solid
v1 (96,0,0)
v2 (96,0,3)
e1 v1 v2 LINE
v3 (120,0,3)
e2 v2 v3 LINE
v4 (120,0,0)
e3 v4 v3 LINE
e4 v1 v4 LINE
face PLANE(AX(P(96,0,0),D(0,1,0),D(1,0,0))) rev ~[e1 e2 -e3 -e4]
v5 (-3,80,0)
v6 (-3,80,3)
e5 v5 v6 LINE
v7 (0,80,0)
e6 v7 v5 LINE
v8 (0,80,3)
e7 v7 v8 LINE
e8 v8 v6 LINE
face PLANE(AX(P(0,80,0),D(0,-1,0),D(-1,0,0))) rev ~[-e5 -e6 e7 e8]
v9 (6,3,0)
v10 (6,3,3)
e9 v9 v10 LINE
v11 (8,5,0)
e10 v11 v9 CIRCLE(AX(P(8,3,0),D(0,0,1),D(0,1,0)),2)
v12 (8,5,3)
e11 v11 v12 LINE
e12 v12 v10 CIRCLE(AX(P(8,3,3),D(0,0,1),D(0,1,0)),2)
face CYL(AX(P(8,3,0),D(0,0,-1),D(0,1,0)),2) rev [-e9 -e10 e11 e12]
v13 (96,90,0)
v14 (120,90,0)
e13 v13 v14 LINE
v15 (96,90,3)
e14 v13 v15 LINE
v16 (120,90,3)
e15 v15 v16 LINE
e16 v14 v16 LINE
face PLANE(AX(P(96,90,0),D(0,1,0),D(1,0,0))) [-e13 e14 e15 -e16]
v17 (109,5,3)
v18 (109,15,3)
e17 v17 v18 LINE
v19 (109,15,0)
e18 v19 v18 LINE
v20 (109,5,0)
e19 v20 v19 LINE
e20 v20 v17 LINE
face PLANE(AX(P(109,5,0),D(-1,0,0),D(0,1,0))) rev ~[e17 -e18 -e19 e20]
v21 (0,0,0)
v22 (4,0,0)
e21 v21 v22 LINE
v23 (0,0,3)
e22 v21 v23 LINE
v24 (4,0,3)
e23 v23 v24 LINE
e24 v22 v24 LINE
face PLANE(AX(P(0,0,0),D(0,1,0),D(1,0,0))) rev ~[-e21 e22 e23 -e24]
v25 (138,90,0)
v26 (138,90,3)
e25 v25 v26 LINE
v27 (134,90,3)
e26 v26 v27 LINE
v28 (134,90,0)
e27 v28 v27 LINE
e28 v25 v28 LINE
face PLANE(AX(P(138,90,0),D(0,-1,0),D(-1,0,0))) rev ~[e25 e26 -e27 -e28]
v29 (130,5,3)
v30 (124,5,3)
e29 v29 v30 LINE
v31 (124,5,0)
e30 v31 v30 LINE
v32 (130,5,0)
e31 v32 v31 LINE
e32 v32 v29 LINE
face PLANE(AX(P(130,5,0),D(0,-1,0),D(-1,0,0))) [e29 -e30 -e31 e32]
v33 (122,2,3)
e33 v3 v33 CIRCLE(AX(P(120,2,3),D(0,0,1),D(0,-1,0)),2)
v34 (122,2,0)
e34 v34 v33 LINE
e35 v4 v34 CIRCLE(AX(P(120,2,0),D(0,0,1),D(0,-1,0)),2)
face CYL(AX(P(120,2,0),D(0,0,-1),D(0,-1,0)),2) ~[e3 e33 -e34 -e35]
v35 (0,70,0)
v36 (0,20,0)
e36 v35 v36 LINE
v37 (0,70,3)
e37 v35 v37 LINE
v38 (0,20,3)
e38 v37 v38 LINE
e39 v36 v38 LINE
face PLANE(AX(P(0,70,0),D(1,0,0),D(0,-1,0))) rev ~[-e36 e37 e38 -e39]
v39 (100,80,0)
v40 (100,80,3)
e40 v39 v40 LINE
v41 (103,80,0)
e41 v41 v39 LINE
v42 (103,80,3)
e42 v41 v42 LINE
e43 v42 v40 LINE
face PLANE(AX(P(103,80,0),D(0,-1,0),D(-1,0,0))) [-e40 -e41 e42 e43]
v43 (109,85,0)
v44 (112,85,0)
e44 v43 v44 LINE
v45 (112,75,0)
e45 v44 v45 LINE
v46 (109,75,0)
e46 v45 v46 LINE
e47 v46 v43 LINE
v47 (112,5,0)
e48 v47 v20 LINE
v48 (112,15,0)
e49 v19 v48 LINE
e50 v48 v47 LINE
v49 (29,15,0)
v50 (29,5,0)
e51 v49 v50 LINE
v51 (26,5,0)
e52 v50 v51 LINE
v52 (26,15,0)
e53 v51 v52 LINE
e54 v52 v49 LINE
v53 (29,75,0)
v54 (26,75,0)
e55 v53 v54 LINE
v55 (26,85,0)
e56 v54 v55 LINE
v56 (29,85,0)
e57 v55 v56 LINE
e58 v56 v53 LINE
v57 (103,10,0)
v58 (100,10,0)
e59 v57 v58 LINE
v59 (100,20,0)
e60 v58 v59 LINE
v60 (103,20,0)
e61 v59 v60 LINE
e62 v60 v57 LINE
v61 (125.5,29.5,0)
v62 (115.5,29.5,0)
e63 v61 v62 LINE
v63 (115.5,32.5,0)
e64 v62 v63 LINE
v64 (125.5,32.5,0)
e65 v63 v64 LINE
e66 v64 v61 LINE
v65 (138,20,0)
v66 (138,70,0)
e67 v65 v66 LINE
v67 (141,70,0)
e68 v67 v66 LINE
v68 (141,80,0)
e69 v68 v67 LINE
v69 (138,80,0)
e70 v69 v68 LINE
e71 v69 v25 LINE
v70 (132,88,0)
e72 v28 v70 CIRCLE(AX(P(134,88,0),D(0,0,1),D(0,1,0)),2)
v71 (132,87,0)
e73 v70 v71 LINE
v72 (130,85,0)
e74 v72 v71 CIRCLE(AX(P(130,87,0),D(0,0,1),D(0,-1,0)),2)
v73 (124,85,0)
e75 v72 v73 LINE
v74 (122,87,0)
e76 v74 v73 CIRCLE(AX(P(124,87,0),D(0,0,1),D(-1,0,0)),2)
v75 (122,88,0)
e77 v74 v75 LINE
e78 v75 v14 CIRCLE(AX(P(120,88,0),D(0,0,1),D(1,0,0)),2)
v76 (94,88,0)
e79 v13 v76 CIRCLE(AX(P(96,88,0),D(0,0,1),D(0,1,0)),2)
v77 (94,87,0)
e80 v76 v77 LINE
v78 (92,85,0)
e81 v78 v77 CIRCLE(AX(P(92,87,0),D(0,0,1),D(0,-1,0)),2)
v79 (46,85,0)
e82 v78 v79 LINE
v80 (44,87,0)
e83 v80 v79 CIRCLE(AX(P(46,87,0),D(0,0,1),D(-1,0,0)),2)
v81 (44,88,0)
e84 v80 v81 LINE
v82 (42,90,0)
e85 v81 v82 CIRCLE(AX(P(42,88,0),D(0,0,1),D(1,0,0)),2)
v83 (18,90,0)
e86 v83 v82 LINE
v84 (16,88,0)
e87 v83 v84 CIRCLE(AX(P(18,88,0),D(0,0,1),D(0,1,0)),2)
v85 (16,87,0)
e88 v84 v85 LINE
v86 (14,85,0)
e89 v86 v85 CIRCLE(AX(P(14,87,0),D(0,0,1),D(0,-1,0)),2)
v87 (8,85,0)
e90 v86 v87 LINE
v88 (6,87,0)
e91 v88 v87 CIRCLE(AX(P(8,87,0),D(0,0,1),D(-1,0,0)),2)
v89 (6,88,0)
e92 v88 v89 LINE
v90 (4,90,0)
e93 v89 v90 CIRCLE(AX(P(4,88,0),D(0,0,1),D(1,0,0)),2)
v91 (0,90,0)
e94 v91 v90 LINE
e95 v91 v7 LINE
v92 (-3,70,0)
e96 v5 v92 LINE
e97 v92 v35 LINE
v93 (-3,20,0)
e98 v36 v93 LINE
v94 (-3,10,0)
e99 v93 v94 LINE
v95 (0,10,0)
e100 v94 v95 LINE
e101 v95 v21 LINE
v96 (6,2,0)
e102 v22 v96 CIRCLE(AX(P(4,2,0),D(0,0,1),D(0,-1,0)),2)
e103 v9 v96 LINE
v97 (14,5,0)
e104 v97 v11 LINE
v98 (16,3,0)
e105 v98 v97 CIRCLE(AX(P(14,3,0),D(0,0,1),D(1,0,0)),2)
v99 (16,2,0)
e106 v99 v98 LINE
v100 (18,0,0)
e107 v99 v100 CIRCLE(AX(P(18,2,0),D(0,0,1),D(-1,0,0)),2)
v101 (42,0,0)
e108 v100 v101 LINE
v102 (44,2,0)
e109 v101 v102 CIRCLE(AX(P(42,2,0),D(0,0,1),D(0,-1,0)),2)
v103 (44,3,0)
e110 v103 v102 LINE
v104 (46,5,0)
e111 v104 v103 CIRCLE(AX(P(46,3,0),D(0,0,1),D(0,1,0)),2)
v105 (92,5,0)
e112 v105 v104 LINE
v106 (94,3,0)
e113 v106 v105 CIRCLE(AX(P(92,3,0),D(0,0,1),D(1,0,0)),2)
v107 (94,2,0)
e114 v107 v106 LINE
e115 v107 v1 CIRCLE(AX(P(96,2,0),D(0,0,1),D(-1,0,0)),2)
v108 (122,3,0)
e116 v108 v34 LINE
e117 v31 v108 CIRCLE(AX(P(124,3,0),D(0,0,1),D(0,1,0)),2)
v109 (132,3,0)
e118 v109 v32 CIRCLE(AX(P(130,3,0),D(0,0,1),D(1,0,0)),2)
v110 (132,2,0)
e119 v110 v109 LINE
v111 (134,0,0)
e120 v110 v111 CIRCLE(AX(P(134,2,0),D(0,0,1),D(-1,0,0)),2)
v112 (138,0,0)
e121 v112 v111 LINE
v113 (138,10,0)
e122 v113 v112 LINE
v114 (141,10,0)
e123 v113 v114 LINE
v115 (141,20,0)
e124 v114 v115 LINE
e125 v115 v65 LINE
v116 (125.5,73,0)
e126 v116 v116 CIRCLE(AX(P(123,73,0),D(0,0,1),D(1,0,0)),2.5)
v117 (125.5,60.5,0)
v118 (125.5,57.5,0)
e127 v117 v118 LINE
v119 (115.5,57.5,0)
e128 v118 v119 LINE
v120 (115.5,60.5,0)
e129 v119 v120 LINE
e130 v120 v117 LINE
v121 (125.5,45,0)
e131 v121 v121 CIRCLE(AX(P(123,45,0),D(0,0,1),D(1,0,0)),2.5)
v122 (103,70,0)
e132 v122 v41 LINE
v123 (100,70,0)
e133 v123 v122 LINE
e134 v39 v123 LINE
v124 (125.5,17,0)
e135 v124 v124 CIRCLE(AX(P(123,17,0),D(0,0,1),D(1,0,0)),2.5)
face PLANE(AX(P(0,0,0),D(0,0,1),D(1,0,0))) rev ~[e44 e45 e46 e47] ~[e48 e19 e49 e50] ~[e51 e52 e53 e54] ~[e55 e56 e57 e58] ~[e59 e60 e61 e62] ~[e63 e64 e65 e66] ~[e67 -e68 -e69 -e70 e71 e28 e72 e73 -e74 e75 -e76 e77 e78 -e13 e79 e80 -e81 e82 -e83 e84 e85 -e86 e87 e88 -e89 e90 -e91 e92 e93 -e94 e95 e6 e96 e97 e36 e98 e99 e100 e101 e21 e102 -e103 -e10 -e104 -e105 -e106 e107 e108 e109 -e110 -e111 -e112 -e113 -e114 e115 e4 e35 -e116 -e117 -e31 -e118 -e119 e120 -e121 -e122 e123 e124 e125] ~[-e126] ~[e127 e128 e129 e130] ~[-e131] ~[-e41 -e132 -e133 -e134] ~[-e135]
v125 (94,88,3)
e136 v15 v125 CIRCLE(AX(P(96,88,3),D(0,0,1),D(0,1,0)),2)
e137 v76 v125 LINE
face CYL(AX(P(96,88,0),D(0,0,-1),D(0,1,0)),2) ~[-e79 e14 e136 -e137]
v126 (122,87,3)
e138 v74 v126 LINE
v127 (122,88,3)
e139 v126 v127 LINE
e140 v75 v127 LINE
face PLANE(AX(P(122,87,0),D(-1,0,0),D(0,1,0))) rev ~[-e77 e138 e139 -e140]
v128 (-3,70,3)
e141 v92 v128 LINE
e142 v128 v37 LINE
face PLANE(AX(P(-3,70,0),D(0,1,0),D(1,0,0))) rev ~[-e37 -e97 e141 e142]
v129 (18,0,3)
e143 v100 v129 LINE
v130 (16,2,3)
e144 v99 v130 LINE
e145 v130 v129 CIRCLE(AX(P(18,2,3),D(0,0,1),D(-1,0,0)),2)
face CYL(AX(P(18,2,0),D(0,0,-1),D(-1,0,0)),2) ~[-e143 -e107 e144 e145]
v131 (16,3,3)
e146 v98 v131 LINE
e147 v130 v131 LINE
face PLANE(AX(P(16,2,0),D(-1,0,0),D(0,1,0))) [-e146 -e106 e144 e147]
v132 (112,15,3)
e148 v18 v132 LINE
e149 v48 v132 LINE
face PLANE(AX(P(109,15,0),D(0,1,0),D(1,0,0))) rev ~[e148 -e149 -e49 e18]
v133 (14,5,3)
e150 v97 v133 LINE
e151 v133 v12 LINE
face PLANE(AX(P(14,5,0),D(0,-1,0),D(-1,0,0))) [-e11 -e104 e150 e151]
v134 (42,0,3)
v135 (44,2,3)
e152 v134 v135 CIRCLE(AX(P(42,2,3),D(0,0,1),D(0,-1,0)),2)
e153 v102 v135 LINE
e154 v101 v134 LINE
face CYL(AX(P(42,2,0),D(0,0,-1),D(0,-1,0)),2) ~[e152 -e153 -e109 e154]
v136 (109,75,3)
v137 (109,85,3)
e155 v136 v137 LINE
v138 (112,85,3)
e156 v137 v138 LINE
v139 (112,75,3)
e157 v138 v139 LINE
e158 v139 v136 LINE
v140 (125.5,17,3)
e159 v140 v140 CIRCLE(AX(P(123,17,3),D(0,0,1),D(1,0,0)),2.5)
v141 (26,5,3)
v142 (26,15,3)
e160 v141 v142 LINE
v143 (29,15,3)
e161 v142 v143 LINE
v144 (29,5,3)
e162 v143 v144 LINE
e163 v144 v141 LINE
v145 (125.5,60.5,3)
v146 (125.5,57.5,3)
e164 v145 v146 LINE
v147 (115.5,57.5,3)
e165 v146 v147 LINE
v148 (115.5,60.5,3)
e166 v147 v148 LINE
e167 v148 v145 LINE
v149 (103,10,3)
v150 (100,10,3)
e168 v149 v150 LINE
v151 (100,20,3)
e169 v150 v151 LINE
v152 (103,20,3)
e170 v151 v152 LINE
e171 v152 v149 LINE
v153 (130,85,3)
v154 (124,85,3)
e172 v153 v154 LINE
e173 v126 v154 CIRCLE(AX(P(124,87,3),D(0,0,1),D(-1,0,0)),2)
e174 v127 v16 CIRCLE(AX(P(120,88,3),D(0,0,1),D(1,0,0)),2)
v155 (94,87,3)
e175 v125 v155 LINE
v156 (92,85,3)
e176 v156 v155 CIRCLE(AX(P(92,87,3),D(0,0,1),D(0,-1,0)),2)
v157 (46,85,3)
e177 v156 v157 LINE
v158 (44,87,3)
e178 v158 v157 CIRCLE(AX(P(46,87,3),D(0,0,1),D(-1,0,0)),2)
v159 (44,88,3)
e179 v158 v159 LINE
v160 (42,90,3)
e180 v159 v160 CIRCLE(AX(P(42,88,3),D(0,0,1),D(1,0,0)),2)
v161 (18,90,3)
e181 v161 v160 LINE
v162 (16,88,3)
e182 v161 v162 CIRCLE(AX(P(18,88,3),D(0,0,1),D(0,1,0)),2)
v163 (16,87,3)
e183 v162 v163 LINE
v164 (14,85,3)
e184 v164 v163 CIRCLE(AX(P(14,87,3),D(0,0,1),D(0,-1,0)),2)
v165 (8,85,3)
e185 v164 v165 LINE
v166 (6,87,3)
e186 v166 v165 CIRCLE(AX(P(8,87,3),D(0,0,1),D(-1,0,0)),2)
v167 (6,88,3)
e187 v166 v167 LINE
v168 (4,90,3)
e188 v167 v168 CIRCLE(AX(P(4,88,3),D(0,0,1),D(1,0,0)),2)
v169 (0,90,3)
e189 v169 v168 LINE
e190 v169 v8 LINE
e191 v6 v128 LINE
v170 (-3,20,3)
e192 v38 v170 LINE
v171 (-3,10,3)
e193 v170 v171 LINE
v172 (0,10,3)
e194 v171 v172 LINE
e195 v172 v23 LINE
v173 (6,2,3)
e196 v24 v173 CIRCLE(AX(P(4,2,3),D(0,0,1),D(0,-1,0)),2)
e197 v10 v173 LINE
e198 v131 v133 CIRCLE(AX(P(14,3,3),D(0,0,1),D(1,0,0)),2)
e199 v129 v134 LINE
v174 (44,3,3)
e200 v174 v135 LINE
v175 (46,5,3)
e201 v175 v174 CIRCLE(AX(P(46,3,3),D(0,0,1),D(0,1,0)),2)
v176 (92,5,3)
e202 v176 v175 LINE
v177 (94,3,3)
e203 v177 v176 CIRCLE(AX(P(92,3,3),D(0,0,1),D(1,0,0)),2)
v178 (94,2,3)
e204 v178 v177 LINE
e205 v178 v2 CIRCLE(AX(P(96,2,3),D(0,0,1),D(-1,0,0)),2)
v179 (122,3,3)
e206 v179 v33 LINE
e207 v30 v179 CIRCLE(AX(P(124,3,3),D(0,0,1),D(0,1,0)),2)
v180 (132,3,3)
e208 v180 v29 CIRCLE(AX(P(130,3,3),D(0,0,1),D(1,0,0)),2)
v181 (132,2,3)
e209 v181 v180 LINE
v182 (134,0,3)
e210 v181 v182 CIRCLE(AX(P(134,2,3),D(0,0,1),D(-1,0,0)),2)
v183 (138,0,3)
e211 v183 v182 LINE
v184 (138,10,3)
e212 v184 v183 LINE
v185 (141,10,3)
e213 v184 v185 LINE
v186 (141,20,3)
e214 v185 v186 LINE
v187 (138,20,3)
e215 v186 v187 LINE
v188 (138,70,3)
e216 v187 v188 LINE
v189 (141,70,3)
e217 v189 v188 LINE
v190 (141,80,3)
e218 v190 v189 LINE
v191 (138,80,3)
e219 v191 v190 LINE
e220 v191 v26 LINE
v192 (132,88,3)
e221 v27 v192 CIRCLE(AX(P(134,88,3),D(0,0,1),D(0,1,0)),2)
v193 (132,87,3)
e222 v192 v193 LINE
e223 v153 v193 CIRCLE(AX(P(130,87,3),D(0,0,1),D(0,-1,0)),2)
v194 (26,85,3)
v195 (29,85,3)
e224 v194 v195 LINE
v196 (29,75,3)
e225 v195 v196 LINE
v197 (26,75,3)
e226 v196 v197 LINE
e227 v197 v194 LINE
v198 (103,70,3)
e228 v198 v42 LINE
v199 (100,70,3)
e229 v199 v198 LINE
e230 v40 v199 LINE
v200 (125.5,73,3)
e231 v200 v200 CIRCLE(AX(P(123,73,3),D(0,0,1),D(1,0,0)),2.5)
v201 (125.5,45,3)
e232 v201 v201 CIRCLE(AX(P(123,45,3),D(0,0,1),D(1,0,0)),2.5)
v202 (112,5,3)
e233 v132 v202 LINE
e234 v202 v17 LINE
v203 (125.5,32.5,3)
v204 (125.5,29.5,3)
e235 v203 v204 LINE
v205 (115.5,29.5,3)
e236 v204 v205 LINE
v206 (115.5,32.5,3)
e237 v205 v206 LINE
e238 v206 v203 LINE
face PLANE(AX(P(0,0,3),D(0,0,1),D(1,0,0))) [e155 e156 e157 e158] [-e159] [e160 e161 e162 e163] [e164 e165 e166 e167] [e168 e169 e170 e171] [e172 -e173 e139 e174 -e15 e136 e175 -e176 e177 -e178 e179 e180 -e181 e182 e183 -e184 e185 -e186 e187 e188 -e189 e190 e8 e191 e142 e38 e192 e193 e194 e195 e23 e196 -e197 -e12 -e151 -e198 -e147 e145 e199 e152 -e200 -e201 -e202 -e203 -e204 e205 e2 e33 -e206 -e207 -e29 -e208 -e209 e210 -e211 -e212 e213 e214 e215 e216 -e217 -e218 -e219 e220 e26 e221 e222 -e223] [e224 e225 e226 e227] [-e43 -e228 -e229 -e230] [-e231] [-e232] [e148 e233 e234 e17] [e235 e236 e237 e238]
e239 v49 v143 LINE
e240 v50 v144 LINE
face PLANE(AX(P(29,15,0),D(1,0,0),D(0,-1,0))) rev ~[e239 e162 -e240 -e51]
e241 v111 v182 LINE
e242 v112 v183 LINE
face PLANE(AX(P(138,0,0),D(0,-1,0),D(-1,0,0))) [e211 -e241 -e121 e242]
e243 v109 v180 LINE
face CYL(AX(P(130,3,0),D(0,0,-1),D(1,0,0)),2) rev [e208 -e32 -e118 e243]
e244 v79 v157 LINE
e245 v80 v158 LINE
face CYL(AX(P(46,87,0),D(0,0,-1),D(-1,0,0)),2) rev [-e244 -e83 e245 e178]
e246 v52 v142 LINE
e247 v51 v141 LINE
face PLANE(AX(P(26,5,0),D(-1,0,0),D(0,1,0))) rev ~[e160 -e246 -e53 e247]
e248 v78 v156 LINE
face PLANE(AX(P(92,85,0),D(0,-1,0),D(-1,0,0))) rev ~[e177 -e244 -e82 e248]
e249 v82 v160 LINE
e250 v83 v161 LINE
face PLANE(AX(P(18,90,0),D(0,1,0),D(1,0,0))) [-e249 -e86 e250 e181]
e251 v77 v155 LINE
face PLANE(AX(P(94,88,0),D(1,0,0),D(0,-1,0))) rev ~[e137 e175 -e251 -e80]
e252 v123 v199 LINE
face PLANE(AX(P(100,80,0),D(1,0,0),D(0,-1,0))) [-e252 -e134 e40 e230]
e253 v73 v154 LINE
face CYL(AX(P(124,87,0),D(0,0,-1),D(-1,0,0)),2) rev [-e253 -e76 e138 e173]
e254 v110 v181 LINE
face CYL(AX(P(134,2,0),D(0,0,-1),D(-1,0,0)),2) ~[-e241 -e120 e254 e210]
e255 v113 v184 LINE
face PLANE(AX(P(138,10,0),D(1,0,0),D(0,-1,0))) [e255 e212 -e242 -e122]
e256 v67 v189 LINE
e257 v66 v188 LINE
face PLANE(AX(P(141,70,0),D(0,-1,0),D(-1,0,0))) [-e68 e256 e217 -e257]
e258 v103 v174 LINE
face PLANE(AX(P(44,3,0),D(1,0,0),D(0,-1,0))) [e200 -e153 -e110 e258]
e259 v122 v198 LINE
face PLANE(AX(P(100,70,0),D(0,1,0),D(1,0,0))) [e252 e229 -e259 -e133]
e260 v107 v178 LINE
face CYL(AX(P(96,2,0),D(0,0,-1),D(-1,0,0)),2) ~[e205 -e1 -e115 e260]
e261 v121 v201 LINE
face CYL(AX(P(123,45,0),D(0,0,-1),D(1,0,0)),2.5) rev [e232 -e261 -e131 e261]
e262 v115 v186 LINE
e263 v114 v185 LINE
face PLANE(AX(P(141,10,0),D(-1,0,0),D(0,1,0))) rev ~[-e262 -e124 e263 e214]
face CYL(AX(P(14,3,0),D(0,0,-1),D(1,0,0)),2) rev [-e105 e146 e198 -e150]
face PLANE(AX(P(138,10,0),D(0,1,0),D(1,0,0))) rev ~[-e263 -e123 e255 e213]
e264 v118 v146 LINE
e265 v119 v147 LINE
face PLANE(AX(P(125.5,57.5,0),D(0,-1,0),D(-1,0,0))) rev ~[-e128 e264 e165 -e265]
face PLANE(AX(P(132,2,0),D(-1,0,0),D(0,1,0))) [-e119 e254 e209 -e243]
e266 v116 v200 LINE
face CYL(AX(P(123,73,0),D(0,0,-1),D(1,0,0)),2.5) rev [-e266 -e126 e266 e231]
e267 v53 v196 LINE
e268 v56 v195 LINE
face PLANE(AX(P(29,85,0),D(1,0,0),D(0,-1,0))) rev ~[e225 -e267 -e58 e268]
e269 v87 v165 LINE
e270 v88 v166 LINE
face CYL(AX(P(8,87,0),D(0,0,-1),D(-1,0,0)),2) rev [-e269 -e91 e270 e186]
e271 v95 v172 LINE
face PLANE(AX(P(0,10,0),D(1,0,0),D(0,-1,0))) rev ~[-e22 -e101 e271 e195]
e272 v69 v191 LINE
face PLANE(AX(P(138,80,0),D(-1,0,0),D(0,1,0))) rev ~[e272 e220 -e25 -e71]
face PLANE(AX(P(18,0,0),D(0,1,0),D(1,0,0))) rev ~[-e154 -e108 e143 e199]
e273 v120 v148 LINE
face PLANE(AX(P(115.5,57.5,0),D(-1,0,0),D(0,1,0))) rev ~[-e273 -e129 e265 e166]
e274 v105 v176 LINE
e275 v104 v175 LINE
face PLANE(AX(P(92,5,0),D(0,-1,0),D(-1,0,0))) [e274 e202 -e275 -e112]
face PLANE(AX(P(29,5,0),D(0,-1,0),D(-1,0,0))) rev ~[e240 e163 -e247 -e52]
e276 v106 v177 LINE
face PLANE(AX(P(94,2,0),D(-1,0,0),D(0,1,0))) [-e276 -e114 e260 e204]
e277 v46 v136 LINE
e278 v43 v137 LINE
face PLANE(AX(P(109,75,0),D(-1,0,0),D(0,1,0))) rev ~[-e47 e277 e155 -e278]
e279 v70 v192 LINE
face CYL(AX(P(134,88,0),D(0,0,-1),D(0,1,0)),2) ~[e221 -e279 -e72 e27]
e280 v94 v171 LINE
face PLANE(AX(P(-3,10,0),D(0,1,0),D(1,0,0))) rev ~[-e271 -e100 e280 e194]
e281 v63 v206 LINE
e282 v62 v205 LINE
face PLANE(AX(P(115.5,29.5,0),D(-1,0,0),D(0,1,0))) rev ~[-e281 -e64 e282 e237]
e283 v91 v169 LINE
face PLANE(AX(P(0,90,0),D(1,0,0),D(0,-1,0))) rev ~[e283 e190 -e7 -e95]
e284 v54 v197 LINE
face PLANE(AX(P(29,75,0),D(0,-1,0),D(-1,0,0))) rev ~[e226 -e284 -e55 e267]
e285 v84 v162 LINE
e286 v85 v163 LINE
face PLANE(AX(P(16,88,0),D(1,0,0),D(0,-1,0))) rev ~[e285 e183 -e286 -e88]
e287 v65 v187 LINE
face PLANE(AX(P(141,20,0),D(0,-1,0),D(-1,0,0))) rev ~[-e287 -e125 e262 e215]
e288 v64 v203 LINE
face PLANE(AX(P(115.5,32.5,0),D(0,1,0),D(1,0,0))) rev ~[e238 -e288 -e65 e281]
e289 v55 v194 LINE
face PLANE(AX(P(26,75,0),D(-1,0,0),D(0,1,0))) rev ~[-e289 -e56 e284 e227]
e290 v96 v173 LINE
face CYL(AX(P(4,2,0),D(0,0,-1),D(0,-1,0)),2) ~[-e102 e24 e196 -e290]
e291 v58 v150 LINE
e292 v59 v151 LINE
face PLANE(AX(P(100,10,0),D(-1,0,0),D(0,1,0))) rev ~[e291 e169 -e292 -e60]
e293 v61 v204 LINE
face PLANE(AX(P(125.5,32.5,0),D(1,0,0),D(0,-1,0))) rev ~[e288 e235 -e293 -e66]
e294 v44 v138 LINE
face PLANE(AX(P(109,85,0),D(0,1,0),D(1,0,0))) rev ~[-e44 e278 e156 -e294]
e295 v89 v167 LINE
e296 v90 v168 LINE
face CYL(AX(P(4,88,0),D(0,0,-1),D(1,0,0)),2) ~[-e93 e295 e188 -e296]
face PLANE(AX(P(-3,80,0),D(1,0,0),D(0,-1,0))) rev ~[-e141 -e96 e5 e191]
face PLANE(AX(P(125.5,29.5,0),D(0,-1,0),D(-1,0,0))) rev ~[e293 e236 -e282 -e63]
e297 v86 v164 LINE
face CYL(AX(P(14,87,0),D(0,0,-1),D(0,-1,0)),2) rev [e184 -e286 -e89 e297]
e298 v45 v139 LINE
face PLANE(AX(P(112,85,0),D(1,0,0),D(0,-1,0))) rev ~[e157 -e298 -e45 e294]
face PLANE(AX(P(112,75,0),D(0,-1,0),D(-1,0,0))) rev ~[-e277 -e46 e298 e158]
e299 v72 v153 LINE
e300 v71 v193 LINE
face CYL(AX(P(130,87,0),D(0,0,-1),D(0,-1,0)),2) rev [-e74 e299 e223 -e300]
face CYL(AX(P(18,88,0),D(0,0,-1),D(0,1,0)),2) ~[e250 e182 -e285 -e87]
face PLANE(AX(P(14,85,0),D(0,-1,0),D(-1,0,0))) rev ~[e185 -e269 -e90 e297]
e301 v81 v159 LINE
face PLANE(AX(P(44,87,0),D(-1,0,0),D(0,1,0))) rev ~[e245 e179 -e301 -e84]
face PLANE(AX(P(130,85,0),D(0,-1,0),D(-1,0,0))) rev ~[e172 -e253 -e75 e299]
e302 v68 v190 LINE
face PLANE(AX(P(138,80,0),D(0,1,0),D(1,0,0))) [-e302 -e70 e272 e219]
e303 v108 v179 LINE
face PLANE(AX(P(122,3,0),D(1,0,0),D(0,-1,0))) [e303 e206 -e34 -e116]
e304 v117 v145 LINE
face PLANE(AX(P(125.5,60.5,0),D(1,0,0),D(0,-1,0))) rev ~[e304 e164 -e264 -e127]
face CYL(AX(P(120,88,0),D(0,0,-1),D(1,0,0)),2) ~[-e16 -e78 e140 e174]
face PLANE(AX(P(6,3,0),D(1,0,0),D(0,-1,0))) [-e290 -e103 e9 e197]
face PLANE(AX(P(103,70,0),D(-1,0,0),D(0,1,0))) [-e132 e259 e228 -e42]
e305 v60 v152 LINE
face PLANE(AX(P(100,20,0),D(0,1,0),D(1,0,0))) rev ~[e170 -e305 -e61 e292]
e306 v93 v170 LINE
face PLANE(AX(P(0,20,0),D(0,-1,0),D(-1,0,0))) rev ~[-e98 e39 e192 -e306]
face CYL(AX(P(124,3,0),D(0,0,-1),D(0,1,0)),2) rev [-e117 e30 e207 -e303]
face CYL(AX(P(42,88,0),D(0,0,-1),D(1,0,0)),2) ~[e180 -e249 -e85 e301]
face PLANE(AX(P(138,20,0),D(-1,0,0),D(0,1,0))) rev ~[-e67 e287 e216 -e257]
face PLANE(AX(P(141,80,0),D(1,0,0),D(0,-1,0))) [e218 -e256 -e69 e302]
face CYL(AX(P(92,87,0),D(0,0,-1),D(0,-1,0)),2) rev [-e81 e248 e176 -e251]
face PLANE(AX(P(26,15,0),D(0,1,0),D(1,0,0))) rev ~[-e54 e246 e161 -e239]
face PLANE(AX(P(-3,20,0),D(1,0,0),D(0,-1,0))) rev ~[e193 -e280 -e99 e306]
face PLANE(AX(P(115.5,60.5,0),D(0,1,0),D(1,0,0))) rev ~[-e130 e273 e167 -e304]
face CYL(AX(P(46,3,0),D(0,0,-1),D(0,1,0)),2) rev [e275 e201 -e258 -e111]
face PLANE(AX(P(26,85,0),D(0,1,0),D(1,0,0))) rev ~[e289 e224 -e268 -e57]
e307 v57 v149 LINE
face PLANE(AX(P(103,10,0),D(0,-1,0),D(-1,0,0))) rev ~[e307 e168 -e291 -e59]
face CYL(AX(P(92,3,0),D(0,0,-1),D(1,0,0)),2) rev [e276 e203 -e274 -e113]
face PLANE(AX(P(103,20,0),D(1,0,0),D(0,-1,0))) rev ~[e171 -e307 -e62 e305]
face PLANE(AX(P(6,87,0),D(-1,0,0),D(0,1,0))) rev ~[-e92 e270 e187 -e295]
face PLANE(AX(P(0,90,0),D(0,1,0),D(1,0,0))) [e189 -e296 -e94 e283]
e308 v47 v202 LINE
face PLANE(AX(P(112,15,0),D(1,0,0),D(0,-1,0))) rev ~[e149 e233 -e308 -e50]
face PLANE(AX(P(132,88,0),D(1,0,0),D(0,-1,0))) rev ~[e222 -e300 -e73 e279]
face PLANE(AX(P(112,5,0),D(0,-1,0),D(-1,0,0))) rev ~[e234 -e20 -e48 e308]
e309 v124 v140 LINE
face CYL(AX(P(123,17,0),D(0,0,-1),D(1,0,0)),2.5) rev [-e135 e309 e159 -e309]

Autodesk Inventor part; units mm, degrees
ref_plane "YZ Plane" through (0, 0, 0) normal (1, 0, 0) x (0, 1, 0)
ref_plane "XZ Plane" through (0, 0, 0) normal (0, 1, 0) x (-1, 0, 0)
ref_plane "XY Plane" through (0, 0, 0) normal (0, 0, 1) x (1, 0, 0)
sketch "Sketch1" plane through (0, 0, 0) normal (0, 0, 1) x (1, 0, 0)
  line L0 (138, 80) -> (141, 80)
  line L1 (141, 80) -> (141, 70)
  line L2 (141, 70) -> (138, 70)
  line L3 (138, 10) -> (141, 10)
  line L4 (141, 10) -> (141, 20)
  line L5 (141, 20) -> (138, 20)
  line L6 (138, 80) -> (138, 90)
  line L7 (138, 20) -> (138, 70)
  line L8 (0, 80) -> (-3, 80)
  line L9 (-3, 80) -> (-3, 70)
  line L10 (-3, 70) -> (0, 70)
  line L11 (0, 20) -> (-3, 20)
  line L12 (-3, 20) -> (-3, 10)
  line L13 (-3, 10) -> (0, 10)
  line L14 (0, 90) -> (0, 80)
  line L15 (0, 70) -> (0, 20)
  line L16 (0, 10) -> (0, 0)
  line L17 (26, 85) -> (29, 85)
  line L18 (29, 85) -> (29, 75)
  line L19 (29, 75) -> (26, 75)
  line L20 (26, 75) -> (26, 85)
  line L21 (26, 15) -> (29, 15)
  line L22 (29, 15) -> (29, 5)
  line L23 (29, 5) -> (26, 5)
  line L24 (26, 5) -> (26, 15)
  line L25 (109, 85) -> (112, 85)
  line L26 (112, 85) -> (112, 75)
  line L27 (112, 75) -> (109, 75)
  line L28 (109, 75) -> (109, 85)
  line L29 (109, 15) -> (112, 15)
  line L30 (112, 15) -> (112, 5)
  line L31 (112, 5) -> (109, 5)
  line L32 (109, 5) -> (109, 15)
  line L33 (16, 88) -> (16, 87)
  line L34 (14, 85) -> (8, 85)
  line L35 (6, 87) -> (6, 88)
  line L36 (94, 88) -> (94, 87)
  line L37 (92, 85) -> (46, 85)
  line L38 (44, 87) -> (44, 88)
  line L39 (132, 88) -> (132, 87)
  line L40 (130, 85) -> (124, 85)
  line L41 (122, 87) -> (122, 88)
  line L42 (138, 90) -> (134, 90)
  line L43 (0, 90) -> (4, 90)
  line L44 (18, 90) -> (42, 90)
  line L45 (96, 90) -> (120, 90)
  line L46 (16, 2) -> (16, 3)
  line L47 (14, 5) -> (8, 5)
  line L48 (6, 3) -> (6, 2)
  line L49 (94, 2) -> (94, 3)
  line L50 (92, 5) -> (46, 5)
  line L51 (44, 3) -> (44, 2)
  line L52 (132, 2) -> (132, 3)
  line L53 (130, 5) -> (124, 5)
  line L54 (122, 3) -> (122, 2)
  line L55 (96, 0) -> (120, 0)
  line L56 (0, 0) -> (4, 0)
  line L57 (18, 0) -> (42, 0)
  arc A0 (4, 0) -> (6, 2) centre (4, 2) ccw
  arc A1 (8, 5) -> (6, 3) centre (8, 3) ccw
  arc A2 (16, 3) -> (14, 5) centre (14, 3) ccw
  arc A3 (16, 2) -> (18, 0) centre (18, 2) ccw
  arc A4 (42, 0) -> (44, 2) centre (42, 2) ccw
  arc A5 (46, 5) -> (44, 3) centre (46, 3) ccw
  arc A6 (94, 3) -> (92, 5) centre (92, 3) ccw
  arc A7 (94, 2) -> (96, 0) centre (96, 2) ccw
  arc A8 (120, 0) -> (122, 2) centre (120, 2) ccw
  arc A9 (124, 5) -> (122, 3) centre (124, 3) ccw
  arc A10 (132, 3) -> (130, 5) centre (130, 3) ccw
  arc A11 (132, 2) -> (134, 0) centre (134, 2) ccw
  arc A12 (6, 88) -> (4, 90) centre (4, 88) ccw
  arc A13 (6, 87) -> (8, 85) centre (8, 87) ccw
  arc A14 (14, 85) -> (16, 87) centre (14, 87) ccw
  arc A15 (18, 90) -> (16, 88) centre (18, 88) ccw
  arc A16 (44, 88) -> (42, 90) centre (42, 88) ccw
  arc A17 (44, 87) -> (46, 85) centre (46, 87) ccw
  arc A18 (92, 85) -> (94, 87) centre (92, 87) ccw
  arc A19 (96, 90) -> (94, 88) centre (96, 88) ccw
  arc A20 (122, 88) -> (120, 90) centre (120, 88) ccw
  arc A21 (122, 87) -> (124, 85) centre (124, 87) ccw
  arc A22 (130, 85) -> (132, 87) centre (130, 87) ccw
  arc A23 (134, 90) -> (132, 88) centre (134, 88) ccw
  line L58 (138, 10) -> (138, 0)
  line L59 (138, 0) -> (134, 0)
  line L60 (103, 10) -> (100, 10)
  line L61 (100, 10) -> (100, 20)
  line L62 (100, 20) -> (103, 20)
  line L63 (103, 20) -> (103, 10)
  line L64 (103, 80) -> (100, 80)
  line L65 (100, 80) -> (100, 70)
  line L66 (100, 70) -> (103, 70)
  line L67 (103, 70) -> (103, 80)
  line L68 (115.5, 60.5) -> (125.5, 60.5)
  line L69 (125.5, 60.5) -> (125.5, 57.5)
  line L70 (125.5, 57.5) -> (115.5, 57.5)
  line L71 (115.5, 57.5) -> (115.5, 60.5)
  line L72 (115.5, 32.5) -> (125.5, 32.5)
  line L73 (125.5, 32.5) -> (125.5, 29.5)
  line L74 (125.5, 29.5) -> (115.5, 29.5)
  line L75 (115.5, 29.5) -> (115.5, 32.5)
  circle A24 centre (123, 45) radius 2.5
  circle A25 centre (123, 73) radius 2.5
  circle A26 centre (123, 17) radius 2.5
  point P0 (16, 85)
  point P1 (6, 85)
  point P2 (94, 85)
  point P3 (44, 85)
  point P4 (132, 85)
  point P5 (122, 85)
  point P6 (16, 5)
  point P7 (6, 5)
  point P8 (94, 5)
  point P9 (44, 5)
  point P10 (132, 5)
  point P11 (122, 5)
  dimension "d1" = 90
  dimension "d3" = 10
  dimension "d4" = 50
  dimension "d5" = 10
  dimension "d10" = 3
  dimension "d11" = 3
  dimension "d13" = 3
  dimension "d14" = 3
  dimension "d16" = 10
  dimension "d17" = 10
  dimension "d20" = 138
  dimension "d21" = 50
  dimension "d22" = 3
  dimension "d23" = 3
  dimension "d24" = 3
  dimension "d27" = 26
  dimension "d28" = 3
  dimension "d30" = 3
  dimension "d31" = 26
  dimension "d33" = 10
  dimension "d34" = 10
  dimension "d35" = 26
  dimension "d36" = 3
  dimension "d38" = 10
  dimension "d39" = 3
  dimension "d40" = 10
  dimension "d45" = 10
  dimension "d46" = 50
  dimension "d47" = 10
  dimension "d48" = 6
  dimension "d49" = 6
  dimension "d54" = 10
  dimension "d55" = 50
  dimension "d56" = 10
  dimension "d57" = 2
  dimension "d58" = 26
  dimension "d59" = 6
  dimension "d60" = 6
  dimension "d62" = 28
  dimension "d63" = 3
  dimension "d64" = 28
  dimension "d65" = 28
  dimension "d66" = 28
  dimension "d67" = 5
  dimension "d68" = 5
  dimension "d69" = 5
  dimension "d70" = 5
  dimension "d71" = 5
  dimension "d72" = 5
  dimension "d73" = 5
  dimension "d74" = 5
  dimension "d75" = 5
  dimension "d76" = 5
  dimension "d77" = 5
  dimension "d78" = 5
  dimension "d79" = 3
  dimension "d80" = 10
  dimension "d81" = 35
  dimension "d82" = 10
  dimension "d83" = 3
  dimension "d84" = 10
  dimension "d85" = 10
  dimension "d86" = 35
  dimension "d89" = 10
extrude "Extrusion5" add sketch "Sketch1" along normal blind 3
properties part number "OpenROV 2.3 Dev EChassis Main Plate"
